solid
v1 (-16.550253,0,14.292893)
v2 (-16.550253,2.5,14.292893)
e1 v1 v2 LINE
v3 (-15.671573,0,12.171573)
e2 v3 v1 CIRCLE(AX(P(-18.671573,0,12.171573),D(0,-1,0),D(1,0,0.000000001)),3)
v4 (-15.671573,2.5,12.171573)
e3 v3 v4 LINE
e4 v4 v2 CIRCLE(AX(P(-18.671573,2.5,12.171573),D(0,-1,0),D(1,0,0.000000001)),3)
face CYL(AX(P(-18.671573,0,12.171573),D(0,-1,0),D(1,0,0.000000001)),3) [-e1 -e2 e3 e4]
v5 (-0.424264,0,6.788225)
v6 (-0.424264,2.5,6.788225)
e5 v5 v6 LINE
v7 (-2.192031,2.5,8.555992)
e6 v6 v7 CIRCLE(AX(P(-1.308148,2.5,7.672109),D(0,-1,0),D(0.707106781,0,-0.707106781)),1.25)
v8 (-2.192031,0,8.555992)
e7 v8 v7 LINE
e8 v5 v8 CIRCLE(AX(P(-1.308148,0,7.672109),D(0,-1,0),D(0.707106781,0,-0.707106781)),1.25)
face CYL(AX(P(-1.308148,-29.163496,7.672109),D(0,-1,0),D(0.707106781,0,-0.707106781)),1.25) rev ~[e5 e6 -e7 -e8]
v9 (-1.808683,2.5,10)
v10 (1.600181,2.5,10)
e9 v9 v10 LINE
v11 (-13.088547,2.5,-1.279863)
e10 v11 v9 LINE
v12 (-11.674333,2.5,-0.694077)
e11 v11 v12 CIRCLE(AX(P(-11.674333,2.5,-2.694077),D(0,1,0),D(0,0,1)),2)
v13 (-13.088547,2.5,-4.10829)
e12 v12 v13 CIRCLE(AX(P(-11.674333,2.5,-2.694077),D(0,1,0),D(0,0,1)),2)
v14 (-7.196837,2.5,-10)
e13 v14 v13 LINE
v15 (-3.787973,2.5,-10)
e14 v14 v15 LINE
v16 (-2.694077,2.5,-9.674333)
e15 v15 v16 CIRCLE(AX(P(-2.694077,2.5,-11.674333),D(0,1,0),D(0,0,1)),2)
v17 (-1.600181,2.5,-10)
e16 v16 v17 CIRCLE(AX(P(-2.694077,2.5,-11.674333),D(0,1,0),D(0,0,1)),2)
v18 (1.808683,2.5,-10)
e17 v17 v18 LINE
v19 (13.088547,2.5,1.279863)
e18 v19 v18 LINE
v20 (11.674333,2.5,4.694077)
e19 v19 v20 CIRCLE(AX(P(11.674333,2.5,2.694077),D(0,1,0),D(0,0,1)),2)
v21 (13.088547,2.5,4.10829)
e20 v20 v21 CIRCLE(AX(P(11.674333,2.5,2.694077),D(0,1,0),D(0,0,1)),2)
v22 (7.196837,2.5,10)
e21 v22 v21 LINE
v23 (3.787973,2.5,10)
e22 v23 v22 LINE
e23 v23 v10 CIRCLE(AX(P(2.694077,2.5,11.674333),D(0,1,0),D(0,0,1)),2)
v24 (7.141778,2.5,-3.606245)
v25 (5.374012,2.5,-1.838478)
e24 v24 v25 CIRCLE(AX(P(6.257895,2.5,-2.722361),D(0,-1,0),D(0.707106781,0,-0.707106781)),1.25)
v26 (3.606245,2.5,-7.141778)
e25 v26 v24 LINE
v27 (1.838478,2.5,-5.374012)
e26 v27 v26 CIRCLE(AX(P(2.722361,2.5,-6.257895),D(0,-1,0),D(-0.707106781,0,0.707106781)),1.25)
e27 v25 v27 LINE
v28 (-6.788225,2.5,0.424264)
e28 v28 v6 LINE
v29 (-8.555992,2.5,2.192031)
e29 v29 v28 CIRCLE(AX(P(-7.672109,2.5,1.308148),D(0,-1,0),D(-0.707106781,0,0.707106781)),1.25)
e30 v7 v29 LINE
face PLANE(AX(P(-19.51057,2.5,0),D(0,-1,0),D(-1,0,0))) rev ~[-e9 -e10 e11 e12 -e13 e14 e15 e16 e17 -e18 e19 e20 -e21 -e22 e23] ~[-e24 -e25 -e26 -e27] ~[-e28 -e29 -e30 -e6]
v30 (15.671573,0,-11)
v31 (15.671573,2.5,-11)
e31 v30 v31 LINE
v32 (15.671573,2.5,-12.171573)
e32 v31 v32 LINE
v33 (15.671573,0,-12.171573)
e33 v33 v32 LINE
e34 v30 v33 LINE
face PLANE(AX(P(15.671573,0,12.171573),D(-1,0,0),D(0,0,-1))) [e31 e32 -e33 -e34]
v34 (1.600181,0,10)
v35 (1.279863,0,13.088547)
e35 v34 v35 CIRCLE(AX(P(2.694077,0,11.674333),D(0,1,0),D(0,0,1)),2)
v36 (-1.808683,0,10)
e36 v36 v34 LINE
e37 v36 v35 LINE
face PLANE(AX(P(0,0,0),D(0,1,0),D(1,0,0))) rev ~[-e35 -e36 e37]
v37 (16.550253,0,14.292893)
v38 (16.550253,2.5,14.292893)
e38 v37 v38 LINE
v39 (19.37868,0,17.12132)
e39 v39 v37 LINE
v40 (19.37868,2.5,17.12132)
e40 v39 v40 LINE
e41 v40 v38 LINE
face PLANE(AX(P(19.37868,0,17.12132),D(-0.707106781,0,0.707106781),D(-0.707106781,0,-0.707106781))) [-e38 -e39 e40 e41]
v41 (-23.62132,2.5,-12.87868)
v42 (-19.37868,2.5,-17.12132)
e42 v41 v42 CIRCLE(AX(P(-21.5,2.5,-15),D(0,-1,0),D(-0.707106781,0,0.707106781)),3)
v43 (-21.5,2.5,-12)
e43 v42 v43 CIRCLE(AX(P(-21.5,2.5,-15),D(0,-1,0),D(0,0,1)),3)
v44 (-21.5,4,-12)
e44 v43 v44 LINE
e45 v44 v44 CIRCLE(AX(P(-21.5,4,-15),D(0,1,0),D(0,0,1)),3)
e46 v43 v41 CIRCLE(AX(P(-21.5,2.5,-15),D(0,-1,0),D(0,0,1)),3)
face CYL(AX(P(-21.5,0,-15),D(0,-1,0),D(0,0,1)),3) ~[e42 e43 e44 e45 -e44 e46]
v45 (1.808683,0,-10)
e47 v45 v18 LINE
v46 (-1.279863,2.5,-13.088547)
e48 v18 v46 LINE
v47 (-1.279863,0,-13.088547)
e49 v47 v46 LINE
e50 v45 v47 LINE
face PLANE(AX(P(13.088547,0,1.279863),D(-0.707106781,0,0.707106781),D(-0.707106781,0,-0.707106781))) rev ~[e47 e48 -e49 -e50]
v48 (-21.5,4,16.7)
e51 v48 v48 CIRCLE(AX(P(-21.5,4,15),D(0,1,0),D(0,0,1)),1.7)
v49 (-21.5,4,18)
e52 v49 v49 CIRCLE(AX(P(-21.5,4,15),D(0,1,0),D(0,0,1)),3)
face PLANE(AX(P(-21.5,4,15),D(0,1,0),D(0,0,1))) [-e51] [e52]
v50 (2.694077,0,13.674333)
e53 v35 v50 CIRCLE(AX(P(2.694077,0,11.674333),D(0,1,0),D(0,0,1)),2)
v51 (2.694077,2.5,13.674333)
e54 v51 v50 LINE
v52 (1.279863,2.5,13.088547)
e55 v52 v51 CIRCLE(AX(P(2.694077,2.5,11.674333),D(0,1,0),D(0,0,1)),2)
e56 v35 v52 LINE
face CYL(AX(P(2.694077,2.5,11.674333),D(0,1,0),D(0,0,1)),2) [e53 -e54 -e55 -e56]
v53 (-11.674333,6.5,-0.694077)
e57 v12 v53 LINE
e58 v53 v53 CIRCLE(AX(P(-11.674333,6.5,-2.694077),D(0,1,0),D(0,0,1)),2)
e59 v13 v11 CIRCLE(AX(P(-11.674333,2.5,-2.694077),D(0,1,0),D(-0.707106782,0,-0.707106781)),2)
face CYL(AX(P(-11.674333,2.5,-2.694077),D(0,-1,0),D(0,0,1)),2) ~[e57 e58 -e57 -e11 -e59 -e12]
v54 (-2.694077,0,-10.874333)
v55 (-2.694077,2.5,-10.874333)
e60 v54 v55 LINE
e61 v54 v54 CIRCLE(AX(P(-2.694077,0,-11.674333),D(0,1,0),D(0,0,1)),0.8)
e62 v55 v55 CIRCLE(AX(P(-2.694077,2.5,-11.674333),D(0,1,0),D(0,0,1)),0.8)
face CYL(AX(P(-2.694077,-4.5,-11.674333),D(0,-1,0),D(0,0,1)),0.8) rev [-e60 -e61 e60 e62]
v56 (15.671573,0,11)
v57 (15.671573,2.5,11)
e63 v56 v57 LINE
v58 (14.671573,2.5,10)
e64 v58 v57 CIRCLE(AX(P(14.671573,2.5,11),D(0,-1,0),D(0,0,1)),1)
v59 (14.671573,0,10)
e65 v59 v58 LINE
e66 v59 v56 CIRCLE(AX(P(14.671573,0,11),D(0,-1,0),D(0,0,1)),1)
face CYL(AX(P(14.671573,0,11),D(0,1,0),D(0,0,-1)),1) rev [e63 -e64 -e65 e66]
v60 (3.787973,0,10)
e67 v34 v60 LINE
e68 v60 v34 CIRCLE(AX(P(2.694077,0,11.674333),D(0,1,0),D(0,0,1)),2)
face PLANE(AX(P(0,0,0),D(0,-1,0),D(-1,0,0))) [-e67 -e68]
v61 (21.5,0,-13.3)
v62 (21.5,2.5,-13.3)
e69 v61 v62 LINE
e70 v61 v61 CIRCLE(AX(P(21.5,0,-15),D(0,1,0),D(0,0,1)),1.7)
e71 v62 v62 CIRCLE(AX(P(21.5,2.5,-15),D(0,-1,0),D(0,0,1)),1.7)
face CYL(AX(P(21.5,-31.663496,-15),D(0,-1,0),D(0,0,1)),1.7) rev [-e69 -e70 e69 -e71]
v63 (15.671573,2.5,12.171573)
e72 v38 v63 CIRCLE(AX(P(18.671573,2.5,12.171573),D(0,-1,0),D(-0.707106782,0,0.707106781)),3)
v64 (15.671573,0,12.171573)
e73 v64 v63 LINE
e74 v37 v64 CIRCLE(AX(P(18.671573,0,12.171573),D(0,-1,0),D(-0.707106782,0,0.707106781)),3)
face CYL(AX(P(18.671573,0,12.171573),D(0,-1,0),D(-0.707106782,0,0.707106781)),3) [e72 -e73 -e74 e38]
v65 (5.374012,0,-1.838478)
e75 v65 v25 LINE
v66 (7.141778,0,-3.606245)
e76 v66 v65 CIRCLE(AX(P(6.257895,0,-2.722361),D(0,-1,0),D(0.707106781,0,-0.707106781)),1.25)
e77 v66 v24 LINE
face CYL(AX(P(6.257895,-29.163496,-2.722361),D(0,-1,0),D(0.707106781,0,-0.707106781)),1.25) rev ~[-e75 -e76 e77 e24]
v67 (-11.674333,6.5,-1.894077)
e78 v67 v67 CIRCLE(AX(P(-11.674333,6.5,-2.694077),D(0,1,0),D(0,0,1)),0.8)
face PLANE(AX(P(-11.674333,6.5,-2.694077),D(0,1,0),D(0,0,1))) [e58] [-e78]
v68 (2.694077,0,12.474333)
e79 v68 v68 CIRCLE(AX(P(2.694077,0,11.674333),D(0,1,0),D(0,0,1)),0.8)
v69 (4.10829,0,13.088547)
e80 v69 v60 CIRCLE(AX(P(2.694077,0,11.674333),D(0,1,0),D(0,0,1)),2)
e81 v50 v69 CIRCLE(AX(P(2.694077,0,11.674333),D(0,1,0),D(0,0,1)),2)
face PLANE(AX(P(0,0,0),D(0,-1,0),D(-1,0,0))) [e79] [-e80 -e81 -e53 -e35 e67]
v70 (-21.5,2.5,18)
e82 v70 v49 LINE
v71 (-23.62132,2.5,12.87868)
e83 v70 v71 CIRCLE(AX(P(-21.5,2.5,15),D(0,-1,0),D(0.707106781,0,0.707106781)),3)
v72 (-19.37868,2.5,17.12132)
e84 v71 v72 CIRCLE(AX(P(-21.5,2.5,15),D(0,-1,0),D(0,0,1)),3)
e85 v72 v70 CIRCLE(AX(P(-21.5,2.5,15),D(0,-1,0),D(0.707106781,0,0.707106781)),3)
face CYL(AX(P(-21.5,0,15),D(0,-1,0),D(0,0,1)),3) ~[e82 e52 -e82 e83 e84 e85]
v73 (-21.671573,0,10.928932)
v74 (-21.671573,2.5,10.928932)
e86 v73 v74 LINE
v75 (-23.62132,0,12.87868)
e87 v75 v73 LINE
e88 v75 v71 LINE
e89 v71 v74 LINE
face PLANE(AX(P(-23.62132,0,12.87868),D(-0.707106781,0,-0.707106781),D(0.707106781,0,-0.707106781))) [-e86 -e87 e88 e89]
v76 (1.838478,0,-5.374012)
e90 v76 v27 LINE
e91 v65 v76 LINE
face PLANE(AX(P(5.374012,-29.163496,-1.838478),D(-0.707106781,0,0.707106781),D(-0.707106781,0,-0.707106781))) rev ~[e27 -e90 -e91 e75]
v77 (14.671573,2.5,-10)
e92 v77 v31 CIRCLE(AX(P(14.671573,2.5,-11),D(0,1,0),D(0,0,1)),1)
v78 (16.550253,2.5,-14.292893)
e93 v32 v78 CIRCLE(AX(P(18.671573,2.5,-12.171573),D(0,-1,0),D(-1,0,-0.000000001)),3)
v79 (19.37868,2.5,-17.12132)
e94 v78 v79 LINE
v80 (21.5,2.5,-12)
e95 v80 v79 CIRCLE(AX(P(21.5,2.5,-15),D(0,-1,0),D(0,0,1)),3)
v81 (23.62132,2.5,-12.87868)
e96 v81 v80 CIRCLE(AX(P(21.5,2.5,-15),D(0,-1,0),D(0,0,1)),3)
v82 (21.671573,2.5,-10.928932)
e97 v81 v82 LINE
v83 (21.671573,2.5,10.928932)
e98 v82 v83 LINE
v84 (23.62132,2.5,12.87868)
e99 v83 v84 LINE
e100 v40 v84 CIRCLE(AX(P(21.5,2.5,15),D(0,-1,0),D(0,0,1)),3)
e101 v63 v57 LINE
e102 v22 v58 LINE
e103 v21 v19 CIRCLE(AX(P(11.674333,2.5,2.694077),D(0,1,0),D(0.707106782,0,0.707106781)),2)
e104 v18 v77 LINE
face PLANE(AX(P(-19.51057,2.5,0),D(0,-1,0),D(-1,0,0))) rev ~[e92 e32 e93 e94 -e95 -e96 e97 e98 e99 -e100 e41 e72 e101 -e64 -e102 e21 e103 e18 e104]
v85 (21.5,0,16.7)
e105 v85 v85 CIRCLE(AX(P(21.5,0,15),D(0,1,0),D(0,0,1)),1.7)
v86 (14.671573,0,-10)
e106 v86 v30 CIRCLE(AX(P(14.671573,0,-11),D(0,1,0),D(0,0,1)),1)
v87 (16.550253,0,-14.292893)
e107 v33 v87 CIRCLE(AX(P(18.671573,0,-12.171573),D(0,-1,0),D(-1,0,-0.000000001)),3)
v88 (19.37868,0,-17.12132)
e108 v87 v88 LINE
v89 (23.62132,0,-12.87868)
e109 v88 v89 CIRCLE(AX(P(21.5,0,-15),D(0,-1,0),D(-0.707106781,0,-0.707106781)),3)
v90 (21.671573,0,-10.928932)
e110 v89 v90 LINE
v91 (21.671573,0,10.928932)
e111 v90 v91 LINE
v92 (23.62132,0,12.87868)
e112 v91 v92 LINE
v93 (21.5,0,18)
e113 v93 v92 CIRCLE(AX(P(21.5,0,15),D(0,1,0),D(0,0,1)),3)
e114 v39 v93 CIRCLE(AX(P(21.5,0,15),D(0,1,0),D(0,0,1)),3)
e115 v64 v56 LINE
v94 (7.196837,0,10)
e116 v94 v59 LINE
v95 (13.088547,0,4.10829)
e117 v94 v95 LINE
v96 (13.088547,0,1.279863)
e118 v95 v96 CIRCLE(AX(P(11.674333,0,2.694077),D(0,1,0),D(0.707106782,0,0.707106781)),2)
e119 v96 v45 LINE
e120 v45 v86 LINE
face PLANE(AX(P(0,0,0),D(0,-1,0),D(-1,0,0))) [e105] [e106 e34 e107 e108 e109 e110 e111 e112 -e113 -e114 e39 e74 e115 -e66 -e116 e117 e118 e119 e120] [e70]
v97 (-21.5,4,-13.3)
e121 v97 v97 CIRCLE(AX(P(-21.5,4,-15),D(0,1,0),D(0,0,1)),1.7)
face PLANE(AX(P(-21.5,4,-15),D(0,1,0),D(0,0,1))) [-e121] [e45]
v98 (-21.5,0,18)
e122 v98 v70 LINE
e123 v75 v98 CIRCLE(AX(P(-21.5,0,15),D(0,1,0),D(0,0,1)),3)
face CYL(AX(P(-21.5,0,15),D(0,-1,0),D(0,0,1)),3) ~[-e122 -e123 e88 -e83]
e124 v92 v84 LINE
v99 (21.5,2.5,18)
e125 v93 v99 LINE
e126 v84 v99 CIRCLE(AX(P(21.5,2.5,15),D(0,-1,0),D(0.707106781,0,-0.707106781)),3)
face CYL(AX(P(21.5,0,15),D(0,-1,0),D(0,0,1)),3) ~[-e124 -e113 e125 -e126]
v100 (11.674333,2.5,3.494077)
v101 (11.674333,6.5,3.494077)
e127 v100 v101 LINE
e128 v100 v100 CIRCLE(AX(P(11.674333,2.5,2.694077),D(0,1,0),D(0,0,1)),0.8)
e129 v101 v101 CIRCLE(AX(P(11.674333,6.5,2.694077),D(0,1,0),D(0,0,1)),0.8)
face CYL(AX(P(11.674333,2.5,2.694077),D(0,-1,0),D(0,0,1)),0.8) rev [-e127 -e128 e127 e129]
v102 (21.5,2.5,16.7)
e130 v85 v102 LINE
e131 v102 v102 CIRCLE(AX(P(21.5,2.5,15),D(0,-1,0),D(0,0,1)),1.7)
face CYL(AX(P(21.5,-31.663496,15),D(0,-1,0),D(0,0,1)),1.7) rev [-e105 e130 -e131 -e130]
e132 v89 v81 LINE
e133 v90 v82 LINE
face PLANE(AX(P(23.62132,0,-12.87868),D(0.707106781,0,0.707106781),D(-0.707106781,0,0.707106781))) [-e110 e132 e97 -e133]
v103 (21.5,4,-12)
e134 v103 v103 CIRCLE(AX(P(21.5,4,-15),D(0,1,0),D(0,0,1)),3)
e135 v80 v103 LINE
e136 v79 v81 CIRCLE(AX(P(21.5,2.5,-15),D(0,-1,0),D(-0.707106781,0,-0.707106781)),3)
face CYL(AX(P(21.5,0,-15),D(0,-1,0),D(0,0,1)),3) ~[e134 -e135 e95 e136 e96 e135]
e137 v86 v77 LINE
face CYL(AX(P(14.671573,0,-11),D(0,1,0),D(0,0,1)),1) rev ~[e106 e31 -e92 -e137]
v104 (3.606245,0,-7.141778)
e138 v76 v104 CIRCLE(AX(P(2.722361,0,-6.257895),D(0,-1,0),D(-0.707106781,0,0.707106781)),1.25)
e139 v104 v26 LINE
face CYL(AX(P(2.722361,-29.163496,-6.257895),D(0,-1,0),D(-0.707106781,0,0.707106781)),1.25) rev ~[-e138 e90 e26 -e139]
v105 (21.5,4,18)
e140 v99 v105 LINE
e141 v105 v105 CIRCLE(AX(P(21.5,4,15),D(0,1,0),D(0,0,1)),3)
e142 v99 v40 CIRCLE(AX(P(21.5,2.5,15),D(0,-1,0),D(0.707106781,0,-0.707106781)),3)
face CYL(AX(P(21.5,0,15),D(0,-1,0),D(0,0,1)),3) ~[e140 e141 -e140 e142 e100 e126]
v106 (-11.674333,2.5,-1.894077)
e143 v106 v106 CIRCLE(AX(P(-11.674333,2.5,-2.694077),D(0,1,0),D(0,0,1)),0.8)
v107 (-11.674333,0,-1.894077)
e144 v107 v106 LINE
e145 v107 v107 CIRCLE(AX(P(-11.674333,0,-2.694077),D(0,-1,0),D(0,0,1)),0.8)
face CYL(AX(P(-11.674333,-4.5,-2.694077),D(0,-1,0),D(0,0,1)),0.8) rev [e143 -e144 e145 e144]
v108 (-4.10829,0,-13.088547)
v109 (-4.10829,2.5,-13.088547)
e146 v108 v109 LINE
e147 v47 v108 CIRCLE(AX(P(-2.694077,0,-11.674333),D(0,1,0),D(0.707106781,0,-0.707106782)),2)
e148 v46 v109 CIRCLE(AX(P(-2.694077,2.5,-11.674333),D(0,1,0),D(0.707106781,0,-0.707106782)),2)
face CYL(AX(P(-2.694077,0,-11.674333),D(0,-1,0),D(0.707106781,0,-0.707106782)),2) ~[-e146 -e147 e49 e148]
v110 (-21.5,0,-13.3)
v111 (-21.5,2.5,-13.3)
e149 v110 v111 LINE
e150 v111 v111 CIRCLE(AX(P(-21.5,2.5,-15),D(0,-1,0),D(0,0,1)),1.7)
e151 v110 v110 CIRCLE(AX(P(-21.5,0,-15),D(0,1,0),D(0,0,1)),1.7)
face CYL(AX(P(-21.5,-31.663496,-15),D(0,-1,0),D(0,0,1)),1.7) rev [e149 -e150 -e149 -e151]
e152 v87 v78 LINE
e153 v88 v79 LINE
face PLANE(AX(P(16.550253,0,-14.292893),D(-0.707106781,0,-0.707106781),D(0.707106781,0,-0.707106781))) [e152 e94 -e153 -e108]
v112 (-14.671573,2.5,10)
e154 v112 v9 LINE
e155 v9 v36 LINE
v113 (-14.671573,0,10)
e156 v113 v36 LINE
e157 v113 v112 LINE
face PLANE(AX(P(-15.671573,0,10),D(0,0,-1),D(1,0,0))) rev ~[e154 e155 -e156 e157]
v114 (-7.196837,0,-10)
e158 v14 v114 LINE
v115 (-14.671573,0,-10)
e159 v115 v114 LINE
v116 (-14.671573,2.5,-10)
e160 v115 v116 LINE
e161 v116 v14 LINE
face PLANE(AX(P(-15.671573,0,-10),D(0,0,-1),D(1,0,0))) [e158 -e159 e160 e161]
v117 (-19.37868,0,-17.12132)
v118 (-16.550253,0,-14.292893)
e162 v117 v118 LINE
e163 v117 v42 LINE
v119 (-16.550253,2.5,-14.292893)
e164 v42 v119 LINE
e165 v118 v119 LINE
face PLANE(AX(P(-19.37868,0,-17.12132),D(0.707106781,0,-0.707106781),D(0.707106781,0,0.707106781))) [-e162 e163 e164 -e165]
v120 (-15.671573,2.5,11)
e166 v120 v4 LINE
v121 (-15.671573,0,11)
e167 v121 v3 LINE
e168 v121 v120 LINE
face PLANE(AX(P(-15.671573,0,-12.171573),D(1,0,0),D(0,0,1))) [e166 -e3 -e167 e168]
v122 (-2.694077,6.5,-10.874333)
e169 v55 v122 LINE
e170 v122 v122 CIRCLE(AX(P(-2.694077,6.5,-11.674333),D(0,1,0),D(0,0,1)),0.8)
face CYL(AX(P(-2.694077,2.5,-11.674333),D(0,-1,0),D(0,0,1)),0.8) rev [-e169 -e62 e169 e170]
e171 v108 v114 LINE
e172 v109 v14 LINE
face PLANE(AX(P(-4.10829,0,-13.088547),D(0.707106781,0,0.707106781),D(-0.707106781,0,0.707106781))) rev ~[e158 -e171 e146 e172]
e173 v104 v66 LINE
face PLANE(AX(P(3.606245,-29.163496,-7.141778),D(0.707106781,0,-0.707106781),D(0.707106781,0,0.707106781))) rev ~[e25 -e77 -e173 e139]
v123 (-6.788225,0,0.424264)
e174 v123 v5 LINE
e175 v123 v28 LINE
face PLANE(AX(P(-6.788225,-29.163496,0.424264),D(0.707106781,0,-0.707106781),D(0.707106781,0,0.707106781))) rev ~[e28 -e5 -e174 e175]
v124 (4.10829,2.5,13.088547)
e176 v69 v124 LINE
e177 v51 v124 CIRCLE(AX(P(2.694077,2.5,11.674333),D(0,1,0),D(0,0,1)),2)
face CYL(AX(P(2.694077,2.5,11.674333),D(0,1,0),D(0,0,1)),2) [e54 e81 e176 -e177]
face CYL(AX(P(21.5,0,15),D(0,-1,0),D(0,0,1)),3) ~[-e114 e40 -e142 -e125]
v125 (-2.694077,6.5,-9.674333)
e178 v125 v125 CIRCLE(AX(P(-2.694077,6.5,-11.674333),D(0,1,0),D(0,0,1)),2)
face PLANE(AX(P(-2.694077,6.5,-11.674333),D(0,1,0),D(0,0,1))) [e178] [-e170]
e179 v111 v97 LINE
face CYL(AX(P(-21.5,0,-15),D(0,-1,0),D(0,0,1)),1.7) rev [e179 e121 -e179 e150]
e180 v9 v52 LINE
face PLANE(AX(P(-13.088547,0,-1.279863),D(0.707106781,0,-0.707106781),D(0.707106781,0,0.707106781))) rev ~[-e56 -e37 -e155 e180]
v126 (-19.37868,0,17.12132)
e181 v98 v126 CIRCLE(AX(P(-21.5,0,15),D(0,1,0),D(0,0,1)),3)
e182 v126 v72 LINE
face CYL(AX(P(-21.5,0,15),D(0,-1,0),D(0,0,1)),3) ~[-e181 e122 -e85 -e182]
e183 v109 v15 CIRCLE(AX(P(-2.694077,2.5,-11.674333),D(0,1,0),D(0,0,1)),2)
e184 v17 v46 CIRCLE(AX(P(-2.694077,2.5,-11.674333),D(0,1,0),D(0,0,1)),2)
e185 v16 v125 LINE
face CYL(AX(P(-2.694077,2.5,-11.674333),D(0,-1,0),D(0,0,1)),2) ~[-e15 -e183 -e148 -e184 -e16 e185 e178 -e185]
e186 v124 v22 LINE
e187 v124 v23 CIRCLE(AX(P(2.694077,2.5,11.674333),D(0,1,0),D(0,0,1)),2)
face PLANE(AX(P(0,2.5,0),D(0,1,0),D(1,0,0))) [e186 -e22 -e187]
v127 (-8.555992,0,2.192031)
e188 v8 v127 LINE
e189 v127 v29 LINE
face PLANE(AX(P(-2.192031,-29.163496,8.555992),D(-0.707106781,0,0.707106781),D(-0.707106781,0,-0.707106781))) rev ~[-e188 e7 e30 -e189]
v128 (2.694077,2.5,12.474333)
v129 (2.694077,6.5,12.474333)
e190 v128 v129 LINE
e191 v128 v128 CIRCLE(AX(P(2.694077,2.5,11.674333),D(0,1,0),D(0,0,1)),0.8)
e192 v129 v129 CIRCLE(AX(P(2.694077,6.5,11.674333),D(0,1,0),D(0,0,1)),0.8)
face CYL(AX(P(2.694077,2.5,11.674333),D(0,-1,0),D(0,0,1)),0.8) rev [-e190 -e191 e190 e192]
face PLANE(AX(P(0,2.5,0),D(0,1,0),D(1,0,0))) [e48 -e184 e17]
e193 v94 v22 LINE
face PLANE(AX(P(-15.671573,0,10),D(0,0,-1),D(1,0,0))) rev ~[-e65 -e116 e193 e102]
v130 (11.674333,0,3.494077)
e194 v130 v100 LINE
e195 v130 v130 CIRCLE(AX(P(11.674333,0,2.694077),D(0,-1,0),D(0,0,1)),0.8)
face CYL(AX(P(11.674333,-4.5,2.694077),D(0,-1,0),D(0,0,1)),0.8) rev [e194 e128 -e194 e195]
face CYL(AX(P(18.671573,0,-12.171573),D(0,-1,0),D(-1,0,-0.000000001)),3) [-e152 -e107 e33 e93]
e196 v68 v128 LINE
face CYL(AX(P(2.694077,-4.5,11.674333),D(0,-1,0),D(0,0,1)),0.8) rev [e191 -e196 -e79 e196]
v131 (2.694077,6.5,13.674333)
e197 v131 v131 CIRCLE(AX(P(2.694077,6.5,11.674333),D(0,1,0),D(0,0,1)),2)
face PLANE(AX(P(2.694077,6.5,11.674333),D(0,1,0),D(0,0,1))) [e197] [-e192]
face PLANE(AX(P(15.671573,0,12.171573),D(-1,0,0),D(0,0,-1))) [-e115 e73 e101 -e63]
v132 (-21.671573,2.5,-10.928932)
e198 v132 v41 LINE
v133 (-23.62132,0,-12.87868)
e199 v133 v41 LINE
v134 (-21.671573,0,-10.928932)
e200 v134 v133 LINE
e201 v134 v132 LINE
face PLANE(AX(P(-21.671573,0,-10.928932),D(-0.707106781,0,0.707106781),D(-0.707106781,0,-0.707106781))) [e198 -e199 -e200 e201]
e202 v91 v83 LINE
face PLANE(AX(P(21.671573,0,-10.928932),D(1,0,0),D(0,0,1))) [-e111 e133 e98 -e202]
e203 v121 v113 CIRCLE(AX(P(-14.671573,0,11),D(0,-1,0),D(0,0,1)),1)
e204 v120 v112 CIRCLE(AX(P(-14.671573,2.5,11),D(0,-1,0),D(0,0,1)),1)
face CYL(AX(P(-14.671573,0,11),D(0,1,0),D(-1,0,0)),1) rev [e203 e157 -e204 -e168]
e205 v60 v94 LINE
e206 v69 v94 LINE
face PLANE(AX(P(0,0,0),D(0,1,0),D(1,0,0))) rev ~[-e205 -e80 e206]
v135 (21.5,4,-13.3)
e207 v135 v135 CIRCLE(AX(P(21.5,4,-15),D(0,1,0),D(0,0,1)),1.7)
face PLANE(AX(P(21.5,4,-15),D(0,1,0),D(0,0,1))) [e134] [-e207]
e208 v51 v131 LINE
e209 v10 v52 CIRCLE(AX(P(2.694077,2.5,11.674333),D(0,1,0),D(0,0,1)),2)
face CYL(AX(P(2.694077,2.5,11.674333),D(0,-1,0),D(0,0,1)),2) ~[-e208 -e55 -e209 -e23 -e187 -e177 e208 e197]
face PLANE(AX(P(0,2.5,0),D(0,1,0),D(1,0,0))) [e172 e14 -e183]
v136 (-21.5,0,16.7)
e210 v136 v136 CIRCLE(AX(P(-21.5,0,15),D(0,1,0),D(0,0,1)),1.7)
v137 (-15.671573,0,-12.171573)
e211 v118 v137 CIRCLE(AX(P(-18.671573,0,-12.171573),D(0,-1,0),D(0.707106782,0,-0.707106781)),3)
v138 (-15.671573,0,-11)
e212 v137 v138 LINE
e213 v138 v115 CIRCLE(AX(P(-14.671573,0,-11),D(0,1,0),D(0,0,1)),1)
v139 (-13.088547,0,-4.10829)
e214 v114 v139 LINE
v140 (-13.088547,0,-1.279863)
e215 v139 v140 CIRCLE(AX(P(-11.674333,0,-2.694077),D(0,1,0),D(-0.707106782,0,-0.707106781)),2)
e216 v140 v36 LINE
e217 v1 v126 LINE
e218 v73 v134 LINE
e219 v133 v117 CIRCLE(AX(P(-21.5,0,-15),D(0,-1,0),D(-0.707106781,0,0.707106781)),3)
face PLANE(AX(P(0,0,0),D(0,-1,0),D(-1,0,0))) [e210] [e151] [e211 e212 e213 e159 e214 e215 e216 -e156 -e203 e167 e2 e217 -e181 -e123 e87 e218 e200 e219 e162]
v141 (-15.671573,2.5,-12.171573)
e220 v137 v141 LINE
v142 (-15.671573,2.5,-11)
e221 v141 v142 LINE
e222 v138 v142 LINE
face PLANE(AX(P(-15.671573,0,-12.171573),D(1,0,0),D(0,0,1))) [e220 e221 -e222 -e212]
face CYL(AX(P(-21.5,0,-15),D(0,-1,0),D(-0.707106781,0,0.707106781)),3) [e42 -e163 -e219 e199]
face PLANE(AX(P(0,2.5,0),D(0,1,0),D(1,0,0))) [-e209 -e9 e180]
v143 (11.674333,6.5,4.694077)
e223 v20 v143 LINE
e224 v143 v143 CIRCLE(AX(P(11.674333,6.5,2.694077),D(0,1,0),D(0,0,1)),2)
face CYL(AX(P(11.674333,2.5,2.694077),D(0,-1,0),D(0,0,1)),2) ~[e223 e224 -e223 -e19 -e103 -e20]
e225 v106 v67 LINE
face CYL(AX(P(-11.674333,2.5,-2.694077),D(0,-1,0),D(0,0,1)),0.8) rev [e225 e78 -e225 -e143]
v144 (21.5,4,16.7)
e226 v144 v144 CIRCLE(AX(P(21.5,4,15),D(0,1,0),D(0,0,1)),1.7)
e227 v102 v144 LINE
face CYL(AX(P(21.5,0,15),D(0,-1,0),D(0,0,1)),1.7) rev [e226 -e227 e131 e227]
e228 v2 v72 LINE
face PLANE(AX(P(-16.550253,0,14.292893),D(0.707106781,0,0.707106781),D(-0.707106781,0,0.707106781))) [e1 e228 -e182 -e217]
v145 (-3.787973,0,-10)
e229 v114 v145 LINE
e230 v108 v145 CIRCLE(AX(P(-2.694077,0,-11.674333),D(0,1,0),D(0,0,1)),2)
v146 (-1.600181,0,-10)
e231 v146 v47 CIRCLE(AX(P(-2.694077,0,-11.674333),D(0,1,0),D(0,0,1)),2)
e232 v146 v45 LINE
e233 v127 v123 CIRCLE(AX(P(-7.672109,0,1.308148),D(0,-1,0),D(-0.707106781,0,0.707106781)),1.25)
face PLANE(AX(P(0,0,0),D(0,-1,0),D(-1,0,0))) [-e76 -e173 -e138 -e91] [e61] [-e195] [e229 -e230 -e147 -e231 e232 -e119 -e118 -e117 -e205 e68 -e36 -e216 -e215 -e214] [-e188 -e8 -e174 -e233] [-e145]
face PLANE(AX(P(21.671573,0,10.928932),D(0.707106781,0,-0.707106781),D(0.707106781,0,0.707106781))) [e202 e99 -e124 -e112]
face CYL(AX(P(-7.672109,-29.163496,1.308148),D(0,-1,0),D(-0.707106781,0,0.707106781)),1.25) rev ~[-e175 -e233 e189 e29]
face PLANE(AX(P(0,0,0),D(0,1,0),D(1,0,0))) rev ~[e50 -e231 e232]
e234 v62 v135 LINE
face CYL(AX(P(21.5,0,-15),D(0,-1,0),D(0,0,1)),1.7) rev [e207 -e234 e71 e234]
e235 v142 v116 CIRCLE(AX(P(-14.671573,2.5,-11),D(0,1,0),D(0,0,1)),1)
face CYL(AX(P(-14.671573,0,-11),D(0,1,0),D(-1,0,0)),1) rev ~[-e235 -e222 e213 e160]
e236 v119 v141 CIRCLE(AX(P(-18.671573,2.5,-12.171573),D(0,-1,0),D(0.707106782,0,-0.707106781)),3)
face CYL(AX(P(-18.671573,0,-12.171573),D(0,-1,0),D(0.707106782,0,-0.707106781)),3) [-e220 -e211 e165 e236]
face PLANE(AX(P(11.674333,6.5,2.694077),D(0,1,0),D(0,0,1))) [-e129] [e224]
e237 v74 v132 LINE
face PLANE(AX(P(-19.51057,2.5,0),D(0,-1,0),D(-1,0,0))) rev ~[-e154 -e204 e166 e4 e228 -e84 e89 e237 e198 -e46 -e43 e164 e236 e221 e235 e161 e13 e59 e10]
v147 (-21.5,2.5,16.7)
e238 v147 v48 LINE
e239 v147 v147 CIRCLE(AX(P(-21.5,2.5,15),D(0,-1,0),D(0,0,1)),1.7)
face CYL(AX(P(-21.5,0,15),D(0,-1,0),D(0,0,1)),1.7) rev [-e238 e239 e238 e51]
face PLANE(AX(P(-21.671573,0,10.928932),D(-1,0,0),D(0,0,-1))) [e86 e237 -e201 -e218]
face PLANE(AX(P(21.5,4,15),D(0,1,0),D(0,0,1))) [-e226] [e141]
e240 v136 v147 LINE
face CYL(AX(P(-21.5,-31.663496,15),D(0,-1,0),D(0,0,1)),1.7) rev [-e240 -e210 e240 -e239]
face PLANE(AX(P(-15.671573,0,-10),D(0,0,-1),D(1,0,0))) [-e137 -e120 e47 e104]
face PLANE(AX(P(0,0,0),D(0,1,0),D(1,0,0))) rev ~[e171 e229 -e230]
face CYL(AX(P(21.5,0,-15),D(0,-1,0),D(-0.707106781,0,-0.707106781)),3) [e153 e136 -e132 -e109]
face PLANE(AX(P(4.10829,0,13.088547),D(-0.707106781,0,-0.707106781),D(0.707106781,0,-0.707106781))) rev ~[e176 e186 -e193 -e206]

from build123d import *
from build123d.topology import SkipClean

# Parameters (mm, degrees)
SKETCH1_R                       = 3
SKETCH1_R_2                     = 1.7
BOSS_EXTRUDE1_DEPTH             = 4
BOSS_EXTRUDE1_2_DEPTH           = 4
BOSS_EXTRUDE1_3_DEPTH           = 4
BOSS_EXTRUDE1_4_DEPTH           = 4
BOSS_EXTRUDE2_DEPTH             = 2.5
CUT_EXTRUDE1_DEPTH              = 31.663496213
CUT_EXTRUDE1_DEPTH_BACK         = 31.663496213
SKETCH1_2_R                     = 1.7
SKETCH4_W                       = 31.34314575
SKETCH4_H                       = 20
BOSS_EXTRUDE3_DEPTH             = 2.5
FILLET2_R                       = 1
SKETCH9_R                       = 2
SKETCH9_R_2                     = 0.8
BOSS_EXTRUDE8_DEPTH             = 4
BOSS_EXTRUDE8_DIRECTION_2_REACH = 32.504
BOSS_EXTRUDE9_START             = -2.5
BOSS_EXTRUDE9_DEPTH             = 2.5
CUT_EXTRUDE3_START              = -7
SKETCH9_2_R                     = 0.8
CUT_EXTRUDE3_DEPTH              = 7
CUT_EXTRUDE4_DEPTH              = 31.663496213
CUT_EXTRUDE4_DEPTH_BACK         = 31.663496213


with BuildPart() as part:
    # Sketch1 → Boss-Extrude1 (new body)
    with BuildSketch(Plane(origin=(0, 0, 0), x_dir=(1, 0, 0), z_dir=(0, 1, 0))):
        with Locations(Location((-21.5, 15, 0), (0, 0, 270))):
            Circle(SKETCH1_R)
        with Locations(Location((-21.5, 15, 0), (0, 0, 270))):
            Circle(SKETCH1_R_2, mode=Mode.SUBTRACT)
    extrude(amount=BOSS_EXTRUDE1_DEPTH)



with BuildPart() as body_2:
    # Sketch1 → Boss-Extrude1 2 (new body)
    with BuildSketch(Plane(origin=(0, 0, 0), x_dir=(1, 0, 0), z_dir=(0, 1, 0))):
        with Locations(Location((-21.5, -15, 0), (0, 0, 270))):
            Circle(SKETCH1_R)
        with Locations(Location((-21.5, -15, 0), (0, 0, 270))):
            Circle(SKETCH1_R_2, mode=Mode.SUBTRACT)
    extrude(amount=BOSS_EXTRUDE1_2_DEPTH)


with BuildPart() as body_3:
    # Sketch1 → Boss-Extrude1 3 (new body)
    with BuildSketch(Plane(origin=(0, 0, 0), x_dir=(1, 0, 0), z_dir=(0, 1, 0))):
        with Locations(Location((21.5, -15, 0), (0, 0, 270))):
            Circle(SKETCH1_R)
        with Locations(Location((21.5, -15, 0), (0, 0, 270))):
            Circle(SKETCH1_R_2, mode=Mode.SUBTRACT)
    extrude(amount=BOSS_EXTRUDE1_3_DEPTH)


with BuildPart() as body_4:
    # Sketch1 → Boss-Extrude1 4 (new body)
    with BuildSketch(Plane(origin=(0, 0, 0), x_dir=(1, 0, 0), z_dir=(0, 1, 0))):
        with Locations(Location((21.5, 15, 0), (0, 0, 270))):
            Circle(SKETCH1_R)
        with Locations(Location((21.5, 15, 0), (0, 0, 270))):
            Circle(SKETCH1_R_2, mode=Mode.SUBTRACT)
    extrude(amount=BOSS_EXTRUDE1_4_DEPTH)


with BuildPart() as part_1:
    with SkipClean():  # the faces are left unmerged after this step: merging them gives an invalid solid
        add(part.part)

        add(body_2.part)  # Boss-Extrude2 merges body 2

        add(body_3.part)  # Boss-Extrude2 merges body 3

        add(body_4.part)  # Boss-Extrude2 merges body 4
        # Sketch2 → Boss-Extrude2 (add)
        with BuildSketch(Plane(origin=(0, 0, 0), x_dir=(1, 0, 0), z_dir=(0, 1, 0))):
            with BuildLine():
                Line((-15.671572875, 12.171572875), (-15.671572875, -12.171572875))
                ThreePointArc((-15.671572875, -12.171572875), (-15.899934278, -13.319623172), (-16.550252532, -14.292893219))
                Line((-16.550252532, -14.292893219), (-19.378679656, -17.121320344))
                ThreePointArc((-19.378679656, -17.121320344), (-23.621320344, -17.121320344), (-23.621320344, -12.878679656))
                Line((-23.621320344, -12.878679656), (-21.671572875, -10.928932188))
                Line((-21.671572875, -10.928932188), (-21.671572875, 10.928932188))
                Line((-21.671572875, 10.928932188), (-23.621320344, 12.878679656))
                ThreePointArc((-23.621320344, 12.878679656), (-23.621320344, 17.121320344), (-19.378679656, 17.121320344))
                Line((-19.378679656, 17.121320344), (-16.550252532, 14.292893219))
                ThreePointArc((-16.550252532, 14.292893219), (-15.899934278, 13.319623172), (-15.671572875, 12.171572875))
            make_face()
            with BuildLine():
                ThreePointArc((19.378679656, 17.121320344), (23.621320344, 17.121320344), (23.621320344, 12.878679656))
                Line((23.621320344, 12.878679656), (21.671572875, 10.928932188))
                Line((21.671572875, 10.928932188), (21.671572875, -10.928932188))
                Line((21.671572875, -10.928932188), (23.621320344, -12.878679656))
                ThreePointArc((23.621320344, -12.878679656), (23.621320344, -17.121320344), (19.378679656, -17.121320344))
                Line((19.378679656, -17.121320344), (16.550252532, -14.292893219))
                ThreePointArc((16.550252532, -14.292893219), (15.899934278, -13.319623172), (15.671572875, -12.171572875))
                Line((15.671572875, -12.171572875), (15.671572875, 12.171572875))
                ThreePointArc((15.671572875, 12.171572875), (15.899934278, 13.319623172), (16.550252532, 14.292893219))
                Line((16.550252532, 14.292893219), (19.378679656, 17.121320344))
            make_face()
        extrude(amount=BOSS_EXTRUDE2_DEPTH)

    # Sketch1<2> → Cut-Extrude1 (cut, two sides: drawn at the far end of the back side and taken through both)
    with SkipClean():  # the faces are left unmerged after this step: merging them gives an invalid solid
        with BuildSketch(Plane(origin=(0, 0, 0), x_dir=(1, 0, 0), z_dir=(0, 1, 0)).offset(-CUT_EXTRUDE1_DEPTH_BACK)):
            with Locations(Location((-21.5, -15, 0), (0, 0, 270))):
                Circle(SKETCH1_2_R)
            with Locations(Location((-21.5, 15, 0), (0, 0, 270))):
                Circle(SKETCH1_2_R)
            with Locations(Location((21.5, 15, 0), (0, 0, 270))):
                Circle(SKETCH1_2_R)
            with Locations(Location((21.5, -15, 0), (0, 0, 270))):
                Circle(SKETCH1_2_R)
        extrude(amount=CUT_EXTRUDE1_DEPTH + CUT_EXTRUDE1_DEPTH_BACK, mode=Mode.SUBTRACT)

    # Sketch4 → Boss-Extrude3 (add)
    with SkipClean():  # the faces are left unmerged after this step: merging them gives an invalid solid
        with BuildSketch(Plane(origin=(0, 0, 0), x_dir=(1, 0, 0), z_dir=(0, 1, 0))):
            Rectangle(SKETCH4_W, SKETCH4_H)
        extrude(amount=BOSS_EXTRUDE3_DEPTH)

    # Fillet2
    fillet2_edges = [part_1.edges().sort_by_distance(p)[0] for p in [
        (15.671572875, 1.25, 10),
        (15.671572875, 1.25, -10),
        (-15.671572875, 1.25, -10),
        (-15.671572875, 1.25, 10),
    ]]
    fillet(fillet2_edges, radius=FILLET2_R)

    # Sketch9 → Boss-Extrude8 (add)
    # profile 1 of 4: a face of its own
    with SkipClean():  # the faces are left unmerged after this step: merging them gives an invalid solid
        with BuildSketch(Plane(origin=(0, 2.5, 0), x_dir=(1, 0, 0), z_dir=(0, 1, 0))):
            with Locations(Location((-2.694076836, 11.674332957, 0), (0, 0, 270))):
                Circle(SKETCH9_R)
            with Locations(Location((-2.694076836, 11.674332957, 0), (0, 0, 270))):
                Circle(SKETCH9_R_2, mode=Mode.SUBTRACT)
        # profile 2 of 4: a face of its own
        with BuildSketch(Plane(origin=(0, 2.5, 0), x_dir=(1, 0, 0), z_dir=(0, 1, 0))):
            with Locations(Location((-11.674332957, 2.694076836, 0), (0, 0, 270))):
                Circle(SKETCH9_R)
            with Locations(Location((-11.674332957, 2.694076836, 0), (0, 0, 270))):
                Circle(SKETCH9_R_2, mode=Mode.SUBTRACT)
        # profile 3 of 4: a face of its own
        with BuildSketch(Plane(origin=(0, 2.5, 0), x_dir=(1, 0, 0), z_dir=(0, 1, 0))):
            with Locations(Location((11.674332957, -2.694076836, 0), (0, 0, 270))):
                Circle(SKETCH9_R)
            with Locations(Location((11.674332957, -2.694076836, 0), (0, 0, 270))):
                Circle(SKETCH9_R_2, mode=Mode.SUBTRACT)
        # profile 4 of 4: a face of its own
        with BuildSketch(Plane(origin=(0, 2.5, 0), x_dir=(1, 0, 0), z_dir=(0, 1, 0))):
            with Locations(Location((2.694076836, -11.674332957, 0), (0, 0, 270))):
                Circle(SKETCH9_R)
            with Locations(Location((2.694076836, -11.674332957, 0), (0, 0, 270))):
                Circle(SKETCH9_R_2, mode=Mode.SUBTRACT)
        extrude(amount=BOSS_EXTRUDE8_DEPTH)

    # Boss-Extrude8 direction 2: up to this face of the body (flat: up to its plane)
    boss_extrude8_direction_2_end = Plane(part_1.part.faces().sort_by_distance((-19.139719912, 0, 0))[0])
    # Sketch9 → Boss-Extrude8 direction 2 (add, up to the picked face)
    with BuildSketch(Plane(origin=(0, 2.5, 0), x_dir=(1, 0, 0), z_dir=(0, 1, 0)), mode=Mode.PRIVATE) as boss_extrude8_direction_2_sk1:
        with Locations(Location((-2.694076836, 11.674332957, 0), (0, 0, 270))):
            Circle(SKETCH9_R)
        with Locations(Location((-2.694076836, 11.674332957, 0), (0, 0, 270))):
            Circle(SKETCH9_R_2, mode=Mode.SUBTRACT)
    boss_extrude8_direction_2_tool1 = split(extrude(boss_extrude8_direction_2_sk1.sketch, amount=-BOSS_EXTRUDE8_DIRECTION_2_REACH, mode=Mode.PRIVATE), bisect_by=boss_extrude8_direction_2_end, keep=Keep.BOTH, mode=Mode.PRIVATE)
    # Sketch9 → Boss-Extrude8 direction 2 (add, up to the picked face)
    with BuildSketch(Plane(origin=(0, 2.5, 0), x_dir=(1, 0, 0), z_dir=(0, 1, 0)), mode=Mode.PRIVATE) as boss_extrude8_direction_2_sk2:
        with Locations(Location((-11.674332957, 2.694076836, 0), (0, 0, 270))):
            Circle(SKETCH9_R)
        with Locations(Location((-11.674332957, 2.694076836, 0), (0, 0, 270))):
            Circle(SKETCH9_R_2, mode=Mode.SUBTRACT)
    boss_extrude8_direction_2_tool2 = split(extrude(boss_extrude8_direction_2_sk2.sketch, amount=-BOSS_EXTRUDE8_DIRECTION_2_REACH, mode=Mode.PRIVATE), bisect_by=boss_extrude8_direction_2_end, keep=Keep.BOTH, mode=Mode.PRIVATE)
    # Sketch9 → Boss-Extrude8 direction 2 (add, up to the picked face)
    with BuildSketch(Plane(origin=(0, 2.5, 0), x_dir=(1, 0, 0), z_dir=(0, 1, 0)), mode=Mode.PRIVATE) as boss_extrude8_direction_2_sk3:
        with Locations(Location((11.674332957, -2.694076836, 0), (0, 0, 270))):
            Circle(SKETCH9_R)
        with Locations(Location((11.674332957, -2.694076836, 0), (0, 0, 270))):
            Circle(SKETCH9_R_2, mode=Mode.SUBTRACT)
    boss_extrude8_direction_2_tool3 = split(extrude(boss_extrude8_direction_2_sk3.sketch, amount=-BOSS_EXTRUDE8_DIRECTION_2_REACH, mode=Mode.PRIVATE), bisect_by=boss_extrude8_direction_2_end, keep=Keep.BOTH, mode=Mode.PRIVATE)
    # Sketch9 → Boss-Extrude8 direction 2 (add, up to the picked face)
    with BuildSketch(Plane(origin=(0, 2.5, 0), x_dir=(1, 0, 0), z_dir=(0, 1, 0)), mode=Mode.PRIVATE) as boss_extrude8_direction_2_sk4:
        with Locations(Location((2.694076836, -11.674332957, 0), (0, 0, 270))):
            Circle(SKETCH9_R)
        with Locations(Location((2.694076836, -11.674332957, 0), (0, 0, 270))):
            Circle(SKETCH9_R_2, mode=Mode.SUBTRACT)
    boss_extrude8_direction_2_tool4 = split(extrude(boss_extrude8_direction_2_sk4.sketch, amount=-BOSS_EXTRUDE8_DIRECTION_2_REACH, mode=Mode.PRIVATE), bisect_by=boss_extrude8_direction_2_end, keep=Keep.BOTH, mode=Mode.PRIVATE)
    add(boss_extrude8_direction_2_tool1.solids().sort_by(Axis((-2.694077, 2.5, -13.617764), (0, -1, 0)))[0])
    add(boss_extrude8_direction_2_tool2.solids().sort_by(Axis((-11.674333, 2.5, -4.637508), (0, -1, 0)))[0])
    add(boss_extrude8_direction_2_tool3.solids().sort_by(Axis((11.674333, 2.5, 0.750645), (0, -1, 0)))[0])
    add(boss_extrude8_direction_2_tool4.solids().sort_by(Axis((2.694077, 2.5, 9.730901), (0, -1, 0)))[0])

    # Sketch10 → Boss-Extrude9 (add)
    with SkipClean():  # the faces are left unmerged after this step: merging them gives an invalid solid
        with BuildSketch(Plane(origin=(0, 2.5, 0), x_dir=(1, 0, 0), z_dir=(0, 1, 0)).offset(BOSS_EXTRUDE9_START)):
            with BuildLine():
                Line((-13.08854652, 1.279863274), (1.279863274, -13.08854652))
                ThreePointArc((1.279863274, -13.08854652), (2.694076836, -13.674332957), (4.108290399, -13.08854652))
                Line((4.108290399, -13.08854652), (13.08854652, -4.108290399))
                ThreePointArc((13.08854652, -4.108290399), (13.674332957, -2.694076836), (13.08854652, -1.279863274))
                Line((13.08854652, -1.279863274), (-1.279863274, 13.08854652))
                ThreePointArc((-1.279863274, 13.08854652), (-2.694076836, 13.674332957), (-4.108290399, 13.08854652))
                Line((-4.108290399, 13.08854652), (-13.08854652, 4.108290399))
                ThreePointArc((-13.08854652, 4.108290399), (-13.674332957, 2.694076836), (-13.08854652, 1.279863274))
            make_face()
        extrude(amount=BOSS_EXTRUDE9_DEPTH)

    # Sketch9<2> → Cut-Extrude3 (cut)
    with SkipClean():  # the faces are left unmerged after this step: merging them gives an invalid solid
        with BuildSketch(Plane(origin=(0, 2.5, 0), x_dir=(1, 0, 0), z_dir=(0, 1, 0)).offset(CUT_EXTRUDE3_START)):
            with Locations(Location((-11.674332957, 2.694076836, 0), (0, 0, 270))):
                Circle(SKETCH9_2_R)
            with Locations(Location((-2.694076836, 11.674332957, 0), (0, 0, 270))):
                Circle(SKETCH9_2_R)
            with Locations(Location((2.694076836, -11.674332957, 0), (0, 0, 270))):
                Circle(SKETCH9_2_R)
            with Locations(Location((11.674332957, -2.694076836, 0), (0, 0, 270))):
                Circle(SKETCH9_2_R)
        extrude(amount=CUT_EXTRUDE3_DEPTH, mode=Mode.SUBTRACT)

    # Sketch11 → Cut-Extrude4 (cut, two sides: drawn at the far end of the back side and taken through both)
    with SkipClean():  # the faces are left unmerged after this step: merging them gives an invalid solid
        with BuildSketch(Plane(origin=(0, 2.5, 0), x_dir=(1, 0, 0), z_dir=(0, 1, 0)).offset(-CUT_EXTRUDE4_DEPTH_BACK)):
            with BuildLine():
                Line((-6.788225099, -0.424264069), (-0.424264069, -6.788225099))
                ThreePointArc((-0.424264069, -6.788225099), (-0.424264069, -8.555992052), (-2.192031022, -8.555992052))
                Line((-2.192031022, -8.555992052), (-8.555992052, -2.192031022))
                ThreePointArc((-8.555992052, -2.192031022), (-8.555992052, -0.424264069), (-6.788225099, -0.424264069))
            make_face()
            with BuildLine():
                Line((3.606244584, 7.14177849), (7.14177849, 3.606244584))
                ThreePointArc((7.14177849, 3.606244584), (7.14177849, 1.838477631), (5.374011537, 1.838477631))
                Line((5.374011537, 1.838477631), (1.838477631, 5.374011537))
                ThreePointArc((1.838477631, 5.374011537), (1.838477631, 7.14177849), (3.606244584, 7.14177849))
            make_face()
        extrude(amount=CUT_EXTRUDE4_DEPTH + CUT_EXTRUDE4_DEPTH_BACK, mode=Mode.SUBTRACT)


solid = part_1.part
